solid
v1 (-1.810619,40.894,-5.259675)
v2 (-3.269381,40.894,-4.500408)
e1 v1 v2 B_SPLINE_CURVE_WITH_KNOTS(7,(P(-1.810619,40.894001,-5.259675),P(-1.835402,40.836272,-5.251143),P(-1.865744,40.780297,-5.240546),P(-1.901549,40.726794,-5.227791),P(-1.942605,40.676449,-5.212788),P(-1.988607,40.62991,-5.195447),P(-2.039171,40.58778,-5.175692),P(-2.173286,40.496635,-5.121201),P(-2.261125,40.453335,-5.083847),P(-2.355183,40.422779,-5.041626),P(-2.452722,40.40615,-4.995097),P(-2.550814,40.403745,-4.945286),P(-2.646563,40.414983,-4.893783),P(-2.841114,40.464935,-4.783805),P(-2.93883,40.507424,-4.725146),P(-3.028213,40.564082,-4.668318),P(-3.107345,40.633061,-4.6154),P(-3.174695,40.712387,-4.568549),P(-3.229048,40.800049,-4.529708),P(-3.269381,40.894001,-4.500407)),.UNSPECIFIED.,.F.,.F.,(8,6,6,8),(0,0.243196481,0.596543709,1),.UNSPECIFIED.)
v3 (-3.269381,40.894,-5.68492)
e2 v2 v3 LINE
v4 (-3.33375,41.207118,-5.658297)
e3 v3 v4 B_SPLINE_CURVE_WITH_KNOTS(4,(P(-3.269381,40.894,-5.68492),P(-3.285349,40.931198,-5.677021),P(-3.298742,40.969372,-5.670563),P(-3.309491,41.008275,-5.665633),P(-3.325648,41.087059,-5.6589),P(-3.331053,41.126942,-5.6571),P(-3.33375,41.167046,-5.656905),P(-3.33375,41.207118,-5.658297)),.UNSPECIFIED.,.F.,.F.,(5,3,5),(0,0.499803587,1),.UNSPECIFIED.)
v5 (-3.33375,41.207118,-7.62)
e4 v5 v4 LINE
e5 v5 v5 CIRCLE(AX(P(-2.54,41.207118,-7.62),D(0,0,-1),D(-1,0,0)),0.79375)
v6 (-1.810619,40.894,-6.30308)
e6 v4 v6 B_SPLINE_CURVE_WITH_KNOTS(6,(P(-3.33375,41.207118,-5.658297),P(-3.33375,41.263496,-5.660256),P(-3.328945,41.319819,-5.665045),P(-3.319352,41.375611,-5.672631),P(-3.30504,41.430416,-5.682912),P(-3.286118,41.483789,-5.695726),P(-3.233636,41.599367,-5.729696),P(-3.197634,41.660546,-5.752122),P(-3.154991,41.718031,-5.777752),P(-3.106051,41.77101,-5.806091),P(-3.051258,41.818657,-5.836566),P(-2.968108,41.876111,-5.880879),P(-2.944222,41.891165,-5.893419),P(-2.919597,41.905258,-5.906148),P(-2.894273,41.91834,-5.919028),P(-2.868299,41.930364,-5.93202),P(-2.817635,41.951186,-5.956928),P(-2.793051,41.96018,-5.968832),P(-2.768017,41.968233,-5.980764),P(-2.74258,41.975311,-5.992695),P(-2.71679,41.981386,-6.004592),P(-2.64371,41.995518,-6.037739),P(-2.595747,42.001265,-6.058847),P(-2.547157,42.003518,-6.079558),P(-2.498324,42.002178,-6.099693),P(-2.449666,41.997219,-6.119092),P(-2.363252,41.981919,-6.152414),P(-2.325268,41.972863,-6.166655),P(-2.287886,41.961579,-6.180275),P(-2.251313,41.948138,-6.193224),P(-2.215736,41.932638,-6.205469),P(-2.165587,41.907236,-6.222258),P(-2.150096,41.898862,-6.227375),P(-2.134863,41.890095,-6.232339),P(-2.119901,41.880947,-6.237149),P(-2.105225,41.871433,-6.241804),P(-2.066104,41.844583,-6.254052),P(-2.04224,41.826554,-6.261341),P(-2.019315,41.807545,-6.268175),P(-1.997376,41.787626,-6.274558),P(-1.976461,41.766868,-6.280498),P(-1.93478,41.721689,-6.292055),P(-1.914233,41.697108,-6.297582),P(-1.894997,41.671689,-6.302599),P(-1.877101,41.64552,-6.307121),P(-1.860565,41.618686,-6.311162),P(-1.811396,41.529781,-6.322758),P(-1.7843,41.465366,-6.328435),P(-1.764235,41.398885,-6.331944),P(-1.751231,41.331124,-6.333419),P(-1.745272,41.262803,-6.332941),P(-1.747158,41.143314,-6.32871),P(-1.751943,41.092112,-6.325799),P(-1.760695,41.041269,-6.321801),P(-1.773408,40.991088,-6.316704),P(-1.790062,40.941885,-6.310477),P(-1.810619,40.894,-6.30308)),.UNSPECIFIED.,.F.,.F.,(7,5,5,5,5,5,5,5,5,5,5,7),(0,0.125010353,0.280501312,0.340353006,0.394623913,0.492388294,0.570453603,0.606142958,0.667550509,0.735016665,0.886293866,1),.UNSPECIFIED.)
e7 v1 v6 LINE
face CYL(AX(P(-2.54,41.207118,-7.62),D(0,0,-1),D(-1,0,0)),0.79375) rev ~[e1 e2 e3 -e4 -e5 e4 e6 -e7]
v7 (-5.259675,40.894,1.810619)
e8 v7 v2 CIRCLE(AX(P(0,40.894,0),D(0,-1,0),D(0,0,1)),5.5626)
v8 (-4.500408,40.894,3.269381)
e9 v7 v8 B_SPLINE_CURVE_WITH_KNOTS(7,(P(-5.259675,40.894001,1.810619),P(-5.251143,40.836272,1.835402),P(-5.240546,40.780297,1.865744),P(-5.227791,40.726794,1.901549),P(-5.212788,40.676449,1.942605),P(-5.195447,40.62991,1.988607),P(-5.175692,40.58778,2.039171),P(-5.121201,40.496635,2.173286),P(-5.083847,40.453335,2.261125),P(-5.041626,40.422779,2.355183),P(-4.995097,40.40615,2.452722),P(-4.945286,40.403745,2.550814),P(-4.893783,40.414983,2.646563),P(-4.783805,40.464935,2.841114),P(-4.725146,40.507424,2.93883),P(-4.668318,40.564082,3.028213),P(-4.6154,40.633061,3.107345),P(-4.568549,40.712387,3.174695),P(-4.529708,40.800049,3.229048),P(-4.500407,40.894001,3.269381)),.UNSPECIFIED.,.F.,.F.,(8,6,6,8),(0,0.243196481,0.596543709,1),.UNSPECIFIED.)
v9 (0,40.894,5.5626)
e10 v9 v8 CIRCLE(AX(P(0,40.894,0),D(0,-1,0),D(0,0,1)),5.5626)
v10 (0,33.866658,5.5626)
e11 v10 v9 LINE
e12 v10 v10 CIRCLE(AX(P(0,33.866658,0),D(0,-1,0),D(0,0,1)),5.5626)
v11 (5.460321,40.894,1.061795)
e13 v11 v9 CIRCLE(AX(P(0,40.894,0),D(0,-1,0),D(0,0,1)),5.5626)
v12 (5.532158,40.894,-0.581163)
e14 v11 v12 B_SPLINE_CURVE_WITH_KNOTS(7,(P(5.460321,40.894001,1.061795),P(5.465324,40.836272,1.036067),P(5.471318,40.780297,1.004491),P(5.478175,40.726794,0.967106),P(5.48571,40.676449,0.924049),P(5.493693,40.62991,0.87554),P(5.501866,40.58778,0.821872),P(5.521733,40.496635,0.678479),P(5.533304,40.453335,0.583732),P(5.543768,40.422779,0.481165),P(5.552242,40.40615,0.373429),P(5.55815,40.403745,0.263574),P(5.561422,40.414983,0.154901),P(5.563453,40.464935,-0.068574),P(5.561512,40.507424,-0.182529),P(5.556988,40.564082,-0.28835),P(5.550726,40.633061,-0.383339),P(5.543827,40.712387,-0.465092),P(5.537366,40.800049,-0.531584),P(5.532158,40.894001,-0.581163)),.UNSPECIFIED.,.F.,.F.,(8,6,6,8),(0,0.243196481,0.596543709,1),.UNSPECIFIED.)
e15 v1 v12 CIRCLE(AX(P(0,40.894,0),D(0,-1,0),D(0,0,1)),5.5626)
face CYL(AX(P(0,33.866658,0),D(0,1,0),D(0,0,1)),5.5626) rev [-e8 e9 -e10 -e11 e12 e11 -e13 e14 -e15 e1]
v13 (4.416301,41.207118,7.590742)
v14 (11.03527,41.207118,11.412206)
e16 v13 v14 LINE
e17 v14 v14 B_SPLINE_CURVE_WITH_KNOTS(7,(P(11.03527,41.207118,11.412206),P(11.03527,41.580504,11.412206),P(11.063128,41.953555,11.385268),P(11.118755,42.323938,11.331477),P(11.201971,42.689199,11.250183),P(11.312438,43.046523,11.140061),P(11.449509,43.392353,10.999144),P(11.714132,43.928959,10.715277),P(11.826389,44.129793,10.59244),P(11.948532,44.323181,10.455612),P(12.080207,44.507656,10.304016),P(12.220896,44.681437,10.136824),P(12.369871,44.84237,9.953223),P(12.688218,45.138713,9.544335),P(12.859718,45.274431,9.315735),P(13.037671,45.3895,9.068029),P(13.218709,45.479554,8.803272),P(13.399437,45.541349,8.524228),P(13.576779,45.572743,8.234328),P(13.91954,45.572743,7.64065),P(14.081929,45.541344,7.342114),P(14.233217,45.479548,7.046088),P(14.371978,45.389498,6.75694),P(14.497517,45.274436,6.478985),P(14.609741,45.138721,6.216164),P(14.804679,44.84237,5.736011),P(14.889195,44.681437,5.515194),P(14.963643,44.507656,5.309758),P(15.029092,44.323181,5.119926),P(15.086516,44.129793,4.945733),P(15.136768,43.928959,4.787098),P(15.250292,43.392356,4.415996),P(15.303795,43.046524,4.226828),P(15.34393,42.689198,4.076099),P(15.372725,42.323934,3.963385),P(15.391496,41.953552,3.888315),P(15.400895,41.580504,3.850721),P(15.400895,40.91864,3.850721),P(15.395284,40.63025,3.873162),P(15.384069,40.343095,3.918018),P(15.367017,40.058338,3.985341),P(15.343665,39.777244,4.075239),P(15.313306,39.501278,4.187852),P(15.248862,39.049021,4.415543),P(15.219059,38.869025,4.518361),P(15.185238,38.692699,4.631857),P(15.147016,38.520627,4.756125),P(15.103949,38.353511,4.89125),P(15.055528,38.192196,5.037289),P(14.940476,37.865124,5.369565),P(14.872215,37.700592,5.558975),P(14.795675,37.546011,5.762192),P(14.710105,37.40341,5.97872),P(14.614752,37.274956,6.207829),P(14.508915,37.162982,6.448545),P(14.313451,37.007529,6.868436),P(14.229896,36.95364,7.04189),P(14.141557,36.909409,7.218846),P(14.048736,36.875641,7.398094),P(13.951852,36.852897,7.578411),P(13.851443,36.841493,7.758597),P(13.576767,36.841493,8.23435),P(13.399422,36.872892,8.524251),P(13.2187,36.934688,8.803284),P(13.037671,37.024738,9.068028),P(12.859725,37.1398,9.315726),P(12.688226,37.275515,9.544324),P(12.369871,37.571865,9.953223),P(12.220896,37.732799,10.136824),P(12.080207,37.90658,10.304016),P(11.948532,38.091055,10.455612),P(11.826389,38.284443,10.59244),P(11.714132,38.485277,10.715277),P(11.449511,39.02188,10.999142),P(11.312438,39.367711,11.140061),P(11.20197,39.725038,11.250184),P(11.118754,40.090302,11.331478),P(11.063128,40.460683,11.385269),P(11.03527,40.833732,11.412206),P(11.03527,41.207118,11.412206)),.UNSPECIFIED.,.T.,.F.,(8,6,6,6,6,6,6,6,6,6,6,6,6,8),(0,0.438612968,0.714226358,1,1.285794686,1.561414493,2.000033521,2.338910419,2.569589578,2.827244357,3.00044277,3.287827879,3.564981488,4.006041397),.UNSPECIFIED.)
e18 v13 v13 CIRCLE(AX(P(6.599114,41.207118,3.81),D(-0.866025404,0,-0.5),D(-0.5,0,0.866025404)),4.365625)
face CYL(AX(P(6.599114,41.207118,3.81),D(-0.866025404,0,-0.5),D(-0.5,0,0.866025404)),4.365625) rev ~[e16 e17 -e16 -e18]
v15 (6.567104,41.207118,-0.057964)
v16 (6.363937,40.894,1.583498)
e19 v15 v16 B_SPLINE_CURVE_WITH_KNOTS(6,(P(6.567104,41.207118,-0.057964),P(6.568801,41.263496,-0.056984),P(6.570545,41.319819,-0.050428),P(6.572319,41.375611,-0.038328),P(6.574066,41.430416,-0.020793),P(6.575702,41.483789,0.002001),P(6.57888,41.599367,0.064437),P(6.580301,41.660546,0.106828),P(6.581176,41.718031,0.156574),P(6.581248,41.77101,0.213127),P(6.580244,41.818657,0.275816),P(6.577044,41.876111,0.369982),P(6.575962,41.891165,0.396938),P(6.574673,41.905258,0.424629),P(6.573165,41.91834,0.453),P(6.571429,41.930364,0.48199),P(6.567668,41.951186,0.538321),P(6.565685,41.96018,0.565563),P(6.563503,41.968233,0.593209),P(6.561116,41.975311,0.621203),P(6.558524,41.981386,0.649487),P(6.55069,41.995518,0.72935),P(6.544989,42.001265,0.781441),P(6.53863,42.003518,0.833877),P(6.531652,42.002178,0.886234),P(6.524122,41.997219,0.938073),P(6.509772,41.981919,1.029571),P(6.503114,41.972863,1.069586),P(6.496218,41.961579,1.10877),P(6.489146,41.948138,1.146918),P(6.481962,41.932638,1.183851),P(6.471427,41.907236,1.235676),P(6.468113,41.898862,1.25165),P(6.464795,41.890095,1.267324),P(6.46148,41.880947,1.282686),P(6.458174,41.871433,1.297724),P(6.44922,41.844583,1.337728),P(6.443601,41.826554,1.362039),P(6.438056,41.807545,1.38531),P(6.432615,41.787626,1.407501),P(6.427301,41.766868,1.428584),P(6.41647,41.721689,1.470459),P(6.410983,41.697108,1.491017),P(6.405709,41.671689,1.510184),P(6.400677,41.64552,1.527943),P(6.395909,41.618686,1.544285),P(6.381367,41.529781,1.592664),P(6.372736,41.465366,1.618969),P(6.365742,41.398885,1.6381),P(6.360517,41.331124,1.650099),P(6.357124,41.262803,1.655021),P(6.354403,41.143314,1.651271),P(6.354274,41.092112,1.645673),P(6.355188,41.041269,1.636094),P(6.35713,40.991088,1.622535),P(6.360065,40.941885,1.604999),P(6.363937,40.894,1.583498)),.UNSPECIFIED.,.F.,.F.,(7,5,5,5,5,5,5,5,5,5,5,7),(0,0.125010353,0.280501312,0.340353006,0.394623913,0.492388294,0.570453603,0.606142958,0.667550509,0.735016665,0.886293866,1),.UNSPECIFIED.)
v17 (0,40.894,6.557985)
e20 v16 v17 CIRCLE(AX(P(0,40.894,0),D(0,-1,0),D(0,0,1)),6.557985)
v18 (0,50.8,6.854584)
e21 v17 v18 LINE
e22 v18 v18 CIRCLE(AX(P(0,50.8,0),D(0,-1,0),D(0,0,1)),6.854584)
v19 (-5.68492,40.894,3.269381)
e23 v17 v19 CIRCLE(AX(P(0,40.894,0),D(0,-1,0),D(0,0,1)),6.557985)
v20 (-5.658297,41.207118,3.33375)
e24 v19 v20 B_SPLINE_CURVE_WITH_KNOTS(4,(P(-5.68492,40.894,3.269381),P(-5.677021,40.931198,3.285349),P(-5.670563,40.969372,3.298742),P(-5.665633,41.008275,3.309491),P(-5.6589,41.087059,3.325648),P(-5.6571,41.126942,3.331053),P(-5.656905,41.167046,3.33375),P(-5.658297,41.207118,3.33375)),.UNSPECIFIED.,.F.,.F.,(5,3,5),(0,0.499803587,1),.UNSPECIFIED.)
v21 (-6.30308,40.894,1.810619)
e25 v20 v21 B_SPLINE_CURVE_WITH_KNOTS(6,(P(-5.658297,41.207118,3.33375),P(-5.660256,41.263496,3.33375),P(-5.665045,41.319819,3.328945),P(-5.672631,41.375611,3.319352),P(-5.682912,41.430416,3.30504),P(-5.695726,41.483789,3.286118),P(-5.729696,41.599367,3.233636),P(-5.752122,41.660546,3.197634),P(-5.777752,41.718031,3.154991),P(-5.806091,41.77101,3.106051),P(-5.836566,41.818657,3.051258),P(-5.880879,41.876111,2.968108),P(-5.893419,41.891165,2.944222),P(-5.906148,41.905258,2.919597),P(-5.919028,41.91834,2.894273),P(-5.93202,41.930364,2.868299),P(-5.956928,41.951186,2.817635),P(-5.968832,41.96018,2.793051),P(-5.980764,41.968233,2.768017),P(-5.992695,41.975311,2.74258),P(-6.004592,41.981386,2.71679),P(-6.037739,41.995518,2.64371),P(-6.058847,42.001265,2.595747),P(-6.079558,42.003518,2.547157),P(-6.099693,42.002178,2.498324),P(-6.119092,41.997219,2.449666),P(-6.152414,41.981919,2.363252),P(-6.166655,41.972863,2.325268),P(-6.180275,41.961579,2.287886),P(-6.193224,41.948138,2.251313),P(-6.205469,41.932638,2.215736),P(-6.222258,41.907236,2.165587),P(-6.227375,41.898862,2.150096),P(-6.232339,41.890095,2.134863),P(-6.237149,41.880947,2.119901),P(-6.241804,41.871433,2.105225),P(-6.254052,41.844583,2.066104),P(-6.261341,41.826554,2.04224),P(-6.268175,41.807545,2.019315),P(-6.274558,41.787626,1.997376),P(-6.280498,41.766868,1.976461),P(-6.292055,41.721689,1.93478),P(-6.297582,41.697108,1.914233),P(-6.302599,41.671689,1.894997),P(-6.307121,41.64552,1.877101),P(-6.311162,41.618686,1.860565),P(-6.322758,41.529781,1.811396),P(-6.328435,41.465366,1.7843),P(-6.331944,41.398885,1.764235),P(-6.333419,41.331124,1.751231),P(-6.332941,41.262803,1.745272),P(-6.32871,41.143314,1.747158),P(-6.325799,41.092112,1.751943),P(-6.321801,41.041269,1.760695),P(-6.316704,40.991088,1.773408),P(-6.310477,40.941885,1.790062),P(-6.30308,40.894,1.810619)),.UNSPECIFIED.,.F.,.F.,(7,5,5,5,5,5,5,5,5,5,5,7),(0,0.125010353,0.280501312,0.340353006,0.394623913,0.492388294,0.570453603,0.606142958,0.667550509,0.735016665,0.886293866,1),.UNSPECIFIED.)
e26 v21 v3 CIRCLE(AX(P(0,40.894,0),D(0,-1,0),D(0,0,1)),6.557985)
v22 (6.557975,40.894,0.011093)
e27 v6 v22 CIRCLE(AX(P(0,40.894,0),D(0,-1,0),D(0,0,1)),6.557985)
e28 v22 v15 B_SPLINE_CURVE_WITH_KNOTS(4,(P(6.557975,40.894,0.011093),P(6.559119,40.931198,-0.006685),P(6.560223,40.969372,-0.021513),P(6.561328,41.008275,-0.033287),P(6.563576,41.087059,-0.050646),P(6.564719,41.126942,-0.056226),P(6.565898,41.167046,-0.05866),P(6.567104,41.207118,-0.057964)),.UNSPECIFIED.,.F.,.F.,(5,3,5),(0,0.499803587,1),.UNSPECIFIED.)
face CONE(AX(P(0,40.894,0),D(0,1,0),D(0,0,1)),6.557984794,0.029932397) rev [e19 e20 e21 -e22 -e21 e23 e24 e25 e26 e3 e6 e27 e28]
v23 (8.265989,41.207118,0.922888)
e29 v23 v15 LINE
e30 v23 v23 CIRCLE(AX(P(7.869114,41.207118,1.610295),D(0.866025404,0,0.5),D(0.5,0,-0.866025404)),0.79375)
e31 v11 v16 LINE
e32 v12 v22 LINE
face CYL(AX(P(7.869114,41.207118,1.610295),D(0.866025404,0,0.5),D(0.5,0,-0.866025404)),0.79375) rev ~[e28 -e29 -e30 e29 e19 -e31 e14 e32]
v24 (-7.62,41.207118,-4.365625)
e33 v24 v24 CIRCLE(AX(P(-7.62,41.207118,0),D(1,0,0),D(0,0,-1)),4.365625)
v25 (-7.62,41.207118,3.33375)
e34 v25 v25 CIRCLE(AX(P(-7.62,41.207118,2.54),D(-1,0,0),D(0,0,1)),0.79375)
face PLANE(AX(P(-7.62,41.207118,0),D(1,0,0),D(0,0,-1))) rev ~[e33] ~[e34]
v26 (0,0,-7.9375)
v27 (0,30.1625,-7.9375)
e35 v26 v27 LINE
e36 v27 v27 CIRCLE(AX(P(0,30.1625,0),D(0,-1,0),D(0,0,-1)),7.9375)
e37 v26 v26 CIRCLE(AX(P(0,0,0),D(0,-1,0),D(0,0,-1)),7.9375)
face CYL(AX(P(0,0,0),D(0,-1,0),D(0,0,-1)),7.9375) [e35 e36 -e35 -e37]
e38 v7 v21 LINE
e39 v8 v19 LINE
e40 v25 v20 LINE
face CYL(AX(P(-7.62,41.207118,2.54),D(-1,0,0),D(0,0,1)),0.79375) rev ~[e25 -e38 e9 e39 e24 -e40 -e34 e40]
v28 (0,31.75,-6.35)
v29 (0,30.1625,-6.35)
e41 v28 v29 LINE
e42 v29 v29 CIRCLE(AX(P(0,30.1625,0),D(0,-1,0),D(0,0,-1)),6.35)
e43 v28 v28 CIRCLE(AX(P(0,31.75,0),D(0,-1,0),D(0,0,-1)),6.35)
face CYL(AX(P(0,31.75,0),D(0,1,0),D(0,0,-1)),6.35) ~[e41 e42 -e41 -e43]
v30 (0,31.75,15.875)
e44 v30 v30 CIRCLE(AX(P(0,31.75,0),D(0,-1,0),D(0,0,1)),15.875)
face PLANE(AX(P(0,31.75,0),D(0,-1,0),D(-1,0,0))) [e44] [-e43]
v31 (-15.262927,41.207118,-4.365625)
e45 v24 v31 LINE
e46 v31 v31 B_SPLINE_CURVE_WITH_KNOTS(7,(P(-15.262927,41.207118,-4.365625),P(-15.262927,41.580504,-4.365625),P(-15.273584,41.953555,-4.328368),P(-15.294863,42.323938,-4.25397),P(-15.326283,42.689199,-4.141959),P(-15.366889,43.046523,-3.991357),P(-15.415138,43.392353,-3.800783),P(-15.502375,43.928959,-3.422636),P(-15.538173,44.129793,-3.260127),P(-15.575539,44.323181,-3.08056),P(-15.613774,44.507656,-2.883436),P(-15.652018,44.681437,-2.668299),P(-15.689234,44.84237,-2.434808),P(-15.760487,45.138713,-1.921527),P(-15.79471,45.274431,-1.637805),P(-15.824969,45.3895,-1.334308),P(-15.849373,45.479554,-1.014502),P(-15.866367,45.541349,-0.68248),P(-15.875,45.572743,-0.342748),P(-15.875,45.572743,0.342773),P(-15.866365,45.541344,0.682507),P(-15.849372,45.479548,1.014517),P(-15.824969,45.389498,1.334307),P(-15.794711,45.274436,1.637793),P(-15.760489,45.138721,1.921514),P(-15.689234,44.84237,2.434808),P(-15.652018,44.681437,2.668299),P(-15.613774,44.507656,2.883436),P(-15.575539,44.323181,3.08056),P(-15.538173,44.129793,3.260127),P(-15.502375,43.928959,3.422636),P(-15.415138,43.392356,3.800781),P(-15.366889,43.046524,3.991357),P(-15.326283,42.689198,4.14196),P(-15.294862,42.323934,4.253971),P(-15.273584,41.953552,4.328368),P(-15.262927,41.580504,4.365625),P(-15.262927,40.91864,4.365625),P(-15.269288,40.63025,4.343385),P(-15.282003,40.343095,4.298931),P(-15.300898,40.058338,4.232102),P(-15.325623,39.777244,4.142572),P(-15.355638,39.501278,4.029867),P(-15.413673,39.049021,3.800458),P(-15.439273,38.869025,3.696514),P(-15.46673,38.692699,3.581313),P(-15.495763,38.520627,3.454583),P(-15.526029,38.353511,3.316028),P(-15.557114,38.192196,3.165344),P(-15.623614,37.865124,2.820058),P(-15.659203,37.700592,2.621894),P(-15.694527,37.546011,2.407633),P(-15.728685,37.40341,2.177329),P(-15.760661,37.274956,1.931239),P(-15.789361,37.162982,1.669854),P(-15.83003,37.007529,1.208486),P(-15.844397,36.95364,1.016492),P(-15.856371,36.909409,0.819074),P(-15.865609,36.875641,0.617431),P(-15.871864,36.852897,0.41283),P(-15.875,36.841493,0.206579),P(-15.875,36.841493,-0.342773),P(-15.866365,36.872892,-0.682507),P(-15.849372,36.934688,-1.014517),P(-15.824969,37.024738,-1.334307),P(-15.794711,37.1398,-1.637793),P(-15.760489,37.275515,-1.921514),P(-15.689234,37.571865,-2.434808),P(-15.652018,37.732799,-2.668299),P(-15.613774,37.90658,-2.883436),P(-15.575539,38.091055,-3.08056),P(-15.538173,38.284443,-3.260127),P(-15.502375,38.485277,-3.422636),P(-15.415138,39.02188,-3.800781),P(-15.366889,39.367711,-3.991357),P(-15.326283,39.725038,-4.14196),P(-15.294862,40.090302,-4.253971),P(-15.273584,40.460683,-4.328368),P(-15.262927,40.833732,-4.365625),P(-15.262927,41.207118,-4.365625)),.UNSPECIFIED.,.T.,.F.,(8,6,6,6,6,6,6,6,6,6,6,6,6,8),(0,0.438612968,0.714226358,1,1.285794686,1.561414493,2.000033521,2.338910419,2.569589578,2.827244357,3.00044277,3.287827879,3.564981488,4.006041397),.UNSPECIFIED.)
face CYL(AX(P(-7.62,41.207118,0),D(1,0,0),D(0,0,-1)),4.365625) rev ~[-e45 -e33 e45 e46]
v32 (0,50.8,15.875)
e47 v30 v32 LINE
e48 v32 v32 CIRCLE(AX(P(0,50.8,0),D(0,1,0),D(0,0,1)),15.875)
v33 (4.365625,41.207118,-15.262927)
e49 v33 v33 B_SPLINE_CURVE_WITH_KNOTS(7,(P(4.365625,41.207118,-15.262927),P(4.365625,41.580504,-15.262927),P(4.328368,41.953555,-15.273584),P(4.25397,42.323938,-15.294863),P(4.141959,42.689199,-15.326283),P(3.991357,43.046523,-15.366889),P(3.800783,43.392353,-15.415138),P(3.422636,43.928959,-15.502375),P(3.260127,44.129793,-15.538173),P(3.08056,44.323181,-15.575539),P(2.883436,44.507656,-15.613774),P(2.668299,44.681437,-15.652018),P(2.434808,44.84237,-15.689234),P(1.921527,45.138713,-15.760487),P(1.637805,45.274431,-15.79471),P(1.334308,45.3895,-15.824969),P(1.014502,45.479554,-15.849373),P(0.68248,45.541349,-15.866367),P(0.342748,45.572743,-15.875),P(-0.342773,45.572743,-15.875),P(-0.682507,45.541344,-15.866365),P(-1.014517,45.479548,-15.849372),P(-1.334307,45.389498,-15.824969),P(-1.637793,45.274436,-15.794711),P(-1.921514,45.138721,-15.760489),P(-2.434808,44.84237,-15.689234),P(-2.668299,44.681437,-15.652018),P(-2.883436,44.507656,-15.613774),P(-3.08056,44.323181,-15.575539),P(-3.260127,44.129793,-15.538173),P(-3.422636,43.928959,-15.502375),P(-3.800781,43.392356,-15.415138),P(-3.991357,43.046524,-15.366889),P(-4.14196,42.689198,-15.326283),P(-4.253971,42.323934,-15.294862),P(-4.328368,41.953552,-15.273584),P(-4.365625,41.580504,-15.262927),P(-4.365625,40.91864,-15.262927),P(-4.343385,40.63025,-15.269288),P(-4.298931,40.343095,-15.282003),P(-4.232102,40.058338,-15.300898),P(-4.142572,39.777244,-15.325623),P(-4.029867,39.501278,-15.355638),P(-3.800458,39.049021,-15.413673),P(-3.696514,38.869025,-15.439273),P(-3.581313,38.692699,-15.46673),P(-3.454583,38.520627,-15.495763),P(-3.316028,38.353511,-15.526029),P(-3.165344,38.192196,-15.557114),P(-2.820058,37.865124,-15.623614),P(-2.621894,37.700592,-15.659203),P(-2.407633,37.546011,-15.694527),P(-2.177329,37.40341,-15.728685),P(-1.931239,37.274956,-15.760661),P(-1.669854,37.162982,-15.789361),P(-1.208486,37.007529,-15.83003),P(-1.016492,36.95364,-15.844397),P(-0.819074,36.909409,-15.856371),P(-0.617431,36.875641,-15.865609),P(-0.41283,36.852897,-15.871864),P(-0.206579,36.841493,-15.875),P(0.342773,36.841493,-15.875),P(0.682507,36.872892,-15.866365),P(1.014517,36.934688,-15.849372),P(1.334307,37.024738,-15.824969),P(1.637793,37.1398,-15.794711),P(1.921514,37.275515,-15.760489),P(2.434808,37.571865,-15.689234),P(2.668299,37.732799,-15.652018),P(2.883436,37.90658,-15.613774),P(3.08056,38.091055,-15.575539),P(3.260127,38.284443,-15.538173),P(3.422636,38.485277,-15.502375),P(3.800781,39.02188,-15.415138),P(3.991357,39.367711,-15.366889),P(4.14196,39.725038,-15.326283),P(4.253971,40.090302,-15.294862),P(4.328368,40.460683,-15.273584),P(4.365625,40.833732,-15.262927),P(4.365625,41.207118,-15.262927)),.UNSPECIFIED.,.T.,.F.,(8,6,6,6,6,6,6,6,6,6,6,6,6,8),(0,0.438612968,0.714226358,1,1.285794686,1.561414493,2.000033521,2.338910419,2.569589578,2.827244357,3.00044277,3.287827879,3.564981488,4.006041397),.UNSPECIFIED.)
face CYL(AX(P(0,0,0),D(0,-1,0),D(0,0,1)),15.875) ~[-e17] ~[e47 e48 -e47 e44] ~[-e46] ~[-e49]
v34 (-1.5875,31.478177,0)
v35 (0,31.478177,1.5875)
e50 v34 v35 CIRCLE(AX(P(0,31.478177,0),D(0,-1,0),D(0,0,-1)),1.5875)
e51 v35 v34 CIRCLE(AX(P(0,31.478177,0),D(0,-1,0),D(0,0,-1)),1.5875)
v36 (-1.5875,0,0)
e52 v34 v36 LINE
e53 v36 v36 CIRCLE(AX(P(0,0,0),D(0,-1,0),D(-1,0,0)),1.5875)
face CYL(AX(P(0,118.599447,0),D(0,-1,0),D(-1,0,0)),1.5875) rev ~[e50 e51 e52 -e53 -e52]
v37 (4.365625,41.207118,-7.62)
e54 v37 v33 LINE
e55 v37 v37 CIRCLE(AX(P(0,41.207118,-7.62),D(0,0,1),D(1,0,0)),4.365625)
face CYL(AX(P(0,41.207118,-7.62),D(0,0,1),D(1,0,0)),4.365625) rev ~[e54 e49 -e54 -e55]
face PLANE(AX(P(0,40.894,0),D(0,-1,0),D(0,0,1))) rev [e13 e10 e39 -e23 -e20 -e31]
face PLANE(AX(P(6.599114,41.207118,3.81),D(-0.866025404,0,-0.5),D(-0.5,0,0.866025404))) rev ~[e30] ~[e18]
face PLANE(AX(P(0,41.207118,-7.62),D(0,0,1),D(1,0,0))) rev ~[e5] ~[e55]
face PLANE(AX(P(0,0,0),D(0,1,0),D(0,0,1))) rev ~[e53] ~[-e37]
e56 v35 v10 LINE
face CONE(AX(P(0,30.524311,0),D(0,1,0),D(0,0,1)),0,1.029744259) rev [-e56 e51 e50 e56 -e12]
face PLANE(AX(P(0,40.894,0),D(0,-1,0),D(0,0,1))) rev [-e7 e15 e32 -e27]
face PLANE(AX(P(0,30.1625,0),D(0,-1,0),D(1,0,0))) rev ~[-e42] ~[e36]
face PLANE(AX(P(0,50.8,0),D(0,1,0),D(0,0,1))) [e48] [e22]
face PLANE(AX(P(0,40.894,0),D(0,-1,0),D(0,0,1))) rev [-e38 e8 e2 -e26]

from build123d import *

# Parameters (mm, degrees)
SKETCH1_R                    = 15.875
BOSS_EXTRUDE1_DEPTH          = 50.8
SKETCH2_OUTSIDE_W            = 47.31
SKETCH2_OUTSIDE_H            = 47.31
SKETCH2_OUTSIDE_R            = 7.9375
CUT_EXTRUDE1_DEPTH           = 31.75
F_1_8_0_125_DIAMETER_HOLE1_D = 3.175
CUT_EXTRUDE5_START           = -31.75
SKETCH13_OUTSIDE_W           = 47.31
SKETCH13_OUTSIDE_H           = 47.31
SKETCH13_OUTSIDE_R           = 6.35
CUT_EXTRUDE5_DEPTH           = 1.5875
CUT_EXTRUDE6_REACH           = 65.16
CUT_EXTRUDE6_END_RADIUS      = 15.875
CUT_EXTRUDE6_START           = -7.62
SKETCH15_R                   = 4.365625
CUT_EXTRUDE7_REACH           = 60.178
SKETCH16_R                   = 0.79375
CIRPATTERN1_COUNT            = 2
CIRPATTERN1_ANGLE            = 120
CIRPATTERN2_COUNT            = 2
CIRPATTERN2_ANGLE            = 270


with BuildPart() as part:
    # Sketch1 → Boss-Extrude1 (new body)
    with BuildSketch(Plane(origin=(0, 0, 0), x_dir=(1, 0, 0), z_dir=(0, 1, 0))):
        with Locations(Location((0, 0, 0), (0, 0, 270))):
            Circle(SKETCH1_R)
    extrude(amount=BOSS_EXTRUDE1_DEPTH)

    # Sketch2 outside → Cut-Extrude1 (cut)
    with BuildSketch(Plane(origin=(0, 0, 0), x_dir=(-1, 0, 0), z_dir=(0, -1, 0))):
        Rectangle(SKETCH2_OUTSIDE_W, SKETCH2_OUTSIDE_H)
        with Locations(Location((0, 0, 0), (0, 0, 90))):
            Circle(SKETCH2_OUTSIDE_R, mode=Mode.SUBTRACT)
    extrude(amount=-CUT_EXTRUDE1_DEPTH, mode=Mode.SUBTRACT)

    # 1/8 (0.125) Diameter Hole1 (through all)
    with Locations(Plane(origin=(0, 50.8, 0), x_dir=(1, 0, 0), z_dir=(0, 1, 0))):
        with Locations((0, 0)):
            Hole(F_1_8_0_125_DIAMETER_HOLE1_D / 2)

    # Sketch6 → 1/4 NPT Tapped Hole1 (revolve, cut)
    with BuildSketch(Plane(origin=(0, 50.8, 0), x_dir=(0, 0, 1), z_dir=(1, 0, 0))):
        Polygon((0, 0), (0, 20.275689079), (5.5626, 16.9333418), (5.5626, 9.906), (6.557984794, 9.906), (6.8545837, 0), align=None)
    revolve(axis=Axis((0, 57.15, 0), (0, -1, 0)), mode=Mode.SUBTRACT)

    # Sketch13 outside → Cut-Extrude5 (cut)
    with BuildSketch(Plane.XZ.offset(CUT_EXTRUDE5_START)):
        Rectangle(SKETCH13_OUTSIDE_W, SKETCH13_OUTSIDE_H)
        with Locations(Location((0, 0, 0), (0, 0, 270))):
            Circle(SKETCH13_OUTSIDE_R, mode=Mode.SUBTRACT)
    extrude(amount=CUT_EXTRUDE5_DEPTH, mode=Mode.SUBTRACT)

    # Cut-Extrude6: up to this cylinder (the profile starts inside it)
    cut_extrude6_end = Plane(origin=(0, 41.207118, 0), z_dir=(0, -1, 0)) * Cylinder(CUT_EXTRUDE6_END_RADIUS, 163.07, mode=Mode.PRIVATE)
    # Sketch15 → Cut-Extrude6 (cut, up to the surface)
    with BuildSketch(Plane.XY.offset(CUT_EXTRUDE6_START), mode=Mode.PRIVATE) as cut_extrude6_sk1:
        with Locations((0, 41.207117901)):
            Circle(SKETCH15_R)
    cut_extrude6_tool1 = extrude(cut_extrude6_sk1.sketch, amount=-CUT_EXTRUDE6_REACH, mode=Mode.PRIVATE) & cut_extrude6_end
    cut_extrude6 = cut_extrude6_tool1.solids().sort_by_distance((0, 41.207118, -7.62))[0]
    add(cut_extrude6, mode=Mode.SUBTRACT)

    # Sketch16 → Cut-Extrude7 (cut, up to next)
    with BuildSketch(Plane(origin=(0, 0, -7.62), x_dir=(-1, 0, 0), z_dir=(0, 0, -1)), mode=Mode.PRIVATE) as cut_extrude7_sk1:
        with Locations((2.54, 41.207117901)):
            Circle(SKETCH16_R)
    cut_extrude7_tool1 = extrude(cut_extrude7_sk1.sketch, amount=-CUT_EXTRUDE7_REACH, mode=Mode.PRIVATE) & part.part
    cut_extrude7 = cut_extrude7_tool1.solids().sort_by_distance((-2.54, 41.207118, -7.62))[0]
    add(cut_extrude7, mode=Mode.SUBTRACT)

    # CirPattern1: Cut-Extrude6, Cut-Extrude7 ×2 about axis
    cirpattern1_axis = Axis((0, 50.8, 0), (0, -1, 0))
    add([cut_extrude6.rotate(cirpattern1_axis, i * CIRPATTERN1_ANGLE / (CIRPATTERN1_COUNT - 1)) for i in range(1, CIRPATTERN1_COUNT)], mode=Mode.SUBTRACT)
    add([cut_extrude7.rotate(cirpattern1_axis, i * CIRPATTERN1_ANGLE / (CIRPATTERN1_COUNT - 1)) for i in range(1, CIRPATTERN1_COUNT)], mode=Mode.SUBTRACT)

    # CirPattern2: Cut-Extrude6, Cut-Extrude7 ×2 about axis
    cirpattern2_axis = Axis((0, 50.8, 0), (0, -1, 0))
    add([cut_extrude6.rotate(cirpattern2_axis, i * CIRPATTERN2_ANGLE / (CIRPATTERN2_COUNT - 1)) for i in range(1, CIRPATTERN2_COUNT)], mode=Mode.SUBTRACT)
    add([cut_extrude7.rotate(cirpattern2_axis, i * CIRPATTERN2_ANGLE / (CIRPATTERN2_COUNT - 1)) for i in range(1, CIRPATTERN2_COUNT)], mode=Mode.SUBTRACT)


solid = part.part
